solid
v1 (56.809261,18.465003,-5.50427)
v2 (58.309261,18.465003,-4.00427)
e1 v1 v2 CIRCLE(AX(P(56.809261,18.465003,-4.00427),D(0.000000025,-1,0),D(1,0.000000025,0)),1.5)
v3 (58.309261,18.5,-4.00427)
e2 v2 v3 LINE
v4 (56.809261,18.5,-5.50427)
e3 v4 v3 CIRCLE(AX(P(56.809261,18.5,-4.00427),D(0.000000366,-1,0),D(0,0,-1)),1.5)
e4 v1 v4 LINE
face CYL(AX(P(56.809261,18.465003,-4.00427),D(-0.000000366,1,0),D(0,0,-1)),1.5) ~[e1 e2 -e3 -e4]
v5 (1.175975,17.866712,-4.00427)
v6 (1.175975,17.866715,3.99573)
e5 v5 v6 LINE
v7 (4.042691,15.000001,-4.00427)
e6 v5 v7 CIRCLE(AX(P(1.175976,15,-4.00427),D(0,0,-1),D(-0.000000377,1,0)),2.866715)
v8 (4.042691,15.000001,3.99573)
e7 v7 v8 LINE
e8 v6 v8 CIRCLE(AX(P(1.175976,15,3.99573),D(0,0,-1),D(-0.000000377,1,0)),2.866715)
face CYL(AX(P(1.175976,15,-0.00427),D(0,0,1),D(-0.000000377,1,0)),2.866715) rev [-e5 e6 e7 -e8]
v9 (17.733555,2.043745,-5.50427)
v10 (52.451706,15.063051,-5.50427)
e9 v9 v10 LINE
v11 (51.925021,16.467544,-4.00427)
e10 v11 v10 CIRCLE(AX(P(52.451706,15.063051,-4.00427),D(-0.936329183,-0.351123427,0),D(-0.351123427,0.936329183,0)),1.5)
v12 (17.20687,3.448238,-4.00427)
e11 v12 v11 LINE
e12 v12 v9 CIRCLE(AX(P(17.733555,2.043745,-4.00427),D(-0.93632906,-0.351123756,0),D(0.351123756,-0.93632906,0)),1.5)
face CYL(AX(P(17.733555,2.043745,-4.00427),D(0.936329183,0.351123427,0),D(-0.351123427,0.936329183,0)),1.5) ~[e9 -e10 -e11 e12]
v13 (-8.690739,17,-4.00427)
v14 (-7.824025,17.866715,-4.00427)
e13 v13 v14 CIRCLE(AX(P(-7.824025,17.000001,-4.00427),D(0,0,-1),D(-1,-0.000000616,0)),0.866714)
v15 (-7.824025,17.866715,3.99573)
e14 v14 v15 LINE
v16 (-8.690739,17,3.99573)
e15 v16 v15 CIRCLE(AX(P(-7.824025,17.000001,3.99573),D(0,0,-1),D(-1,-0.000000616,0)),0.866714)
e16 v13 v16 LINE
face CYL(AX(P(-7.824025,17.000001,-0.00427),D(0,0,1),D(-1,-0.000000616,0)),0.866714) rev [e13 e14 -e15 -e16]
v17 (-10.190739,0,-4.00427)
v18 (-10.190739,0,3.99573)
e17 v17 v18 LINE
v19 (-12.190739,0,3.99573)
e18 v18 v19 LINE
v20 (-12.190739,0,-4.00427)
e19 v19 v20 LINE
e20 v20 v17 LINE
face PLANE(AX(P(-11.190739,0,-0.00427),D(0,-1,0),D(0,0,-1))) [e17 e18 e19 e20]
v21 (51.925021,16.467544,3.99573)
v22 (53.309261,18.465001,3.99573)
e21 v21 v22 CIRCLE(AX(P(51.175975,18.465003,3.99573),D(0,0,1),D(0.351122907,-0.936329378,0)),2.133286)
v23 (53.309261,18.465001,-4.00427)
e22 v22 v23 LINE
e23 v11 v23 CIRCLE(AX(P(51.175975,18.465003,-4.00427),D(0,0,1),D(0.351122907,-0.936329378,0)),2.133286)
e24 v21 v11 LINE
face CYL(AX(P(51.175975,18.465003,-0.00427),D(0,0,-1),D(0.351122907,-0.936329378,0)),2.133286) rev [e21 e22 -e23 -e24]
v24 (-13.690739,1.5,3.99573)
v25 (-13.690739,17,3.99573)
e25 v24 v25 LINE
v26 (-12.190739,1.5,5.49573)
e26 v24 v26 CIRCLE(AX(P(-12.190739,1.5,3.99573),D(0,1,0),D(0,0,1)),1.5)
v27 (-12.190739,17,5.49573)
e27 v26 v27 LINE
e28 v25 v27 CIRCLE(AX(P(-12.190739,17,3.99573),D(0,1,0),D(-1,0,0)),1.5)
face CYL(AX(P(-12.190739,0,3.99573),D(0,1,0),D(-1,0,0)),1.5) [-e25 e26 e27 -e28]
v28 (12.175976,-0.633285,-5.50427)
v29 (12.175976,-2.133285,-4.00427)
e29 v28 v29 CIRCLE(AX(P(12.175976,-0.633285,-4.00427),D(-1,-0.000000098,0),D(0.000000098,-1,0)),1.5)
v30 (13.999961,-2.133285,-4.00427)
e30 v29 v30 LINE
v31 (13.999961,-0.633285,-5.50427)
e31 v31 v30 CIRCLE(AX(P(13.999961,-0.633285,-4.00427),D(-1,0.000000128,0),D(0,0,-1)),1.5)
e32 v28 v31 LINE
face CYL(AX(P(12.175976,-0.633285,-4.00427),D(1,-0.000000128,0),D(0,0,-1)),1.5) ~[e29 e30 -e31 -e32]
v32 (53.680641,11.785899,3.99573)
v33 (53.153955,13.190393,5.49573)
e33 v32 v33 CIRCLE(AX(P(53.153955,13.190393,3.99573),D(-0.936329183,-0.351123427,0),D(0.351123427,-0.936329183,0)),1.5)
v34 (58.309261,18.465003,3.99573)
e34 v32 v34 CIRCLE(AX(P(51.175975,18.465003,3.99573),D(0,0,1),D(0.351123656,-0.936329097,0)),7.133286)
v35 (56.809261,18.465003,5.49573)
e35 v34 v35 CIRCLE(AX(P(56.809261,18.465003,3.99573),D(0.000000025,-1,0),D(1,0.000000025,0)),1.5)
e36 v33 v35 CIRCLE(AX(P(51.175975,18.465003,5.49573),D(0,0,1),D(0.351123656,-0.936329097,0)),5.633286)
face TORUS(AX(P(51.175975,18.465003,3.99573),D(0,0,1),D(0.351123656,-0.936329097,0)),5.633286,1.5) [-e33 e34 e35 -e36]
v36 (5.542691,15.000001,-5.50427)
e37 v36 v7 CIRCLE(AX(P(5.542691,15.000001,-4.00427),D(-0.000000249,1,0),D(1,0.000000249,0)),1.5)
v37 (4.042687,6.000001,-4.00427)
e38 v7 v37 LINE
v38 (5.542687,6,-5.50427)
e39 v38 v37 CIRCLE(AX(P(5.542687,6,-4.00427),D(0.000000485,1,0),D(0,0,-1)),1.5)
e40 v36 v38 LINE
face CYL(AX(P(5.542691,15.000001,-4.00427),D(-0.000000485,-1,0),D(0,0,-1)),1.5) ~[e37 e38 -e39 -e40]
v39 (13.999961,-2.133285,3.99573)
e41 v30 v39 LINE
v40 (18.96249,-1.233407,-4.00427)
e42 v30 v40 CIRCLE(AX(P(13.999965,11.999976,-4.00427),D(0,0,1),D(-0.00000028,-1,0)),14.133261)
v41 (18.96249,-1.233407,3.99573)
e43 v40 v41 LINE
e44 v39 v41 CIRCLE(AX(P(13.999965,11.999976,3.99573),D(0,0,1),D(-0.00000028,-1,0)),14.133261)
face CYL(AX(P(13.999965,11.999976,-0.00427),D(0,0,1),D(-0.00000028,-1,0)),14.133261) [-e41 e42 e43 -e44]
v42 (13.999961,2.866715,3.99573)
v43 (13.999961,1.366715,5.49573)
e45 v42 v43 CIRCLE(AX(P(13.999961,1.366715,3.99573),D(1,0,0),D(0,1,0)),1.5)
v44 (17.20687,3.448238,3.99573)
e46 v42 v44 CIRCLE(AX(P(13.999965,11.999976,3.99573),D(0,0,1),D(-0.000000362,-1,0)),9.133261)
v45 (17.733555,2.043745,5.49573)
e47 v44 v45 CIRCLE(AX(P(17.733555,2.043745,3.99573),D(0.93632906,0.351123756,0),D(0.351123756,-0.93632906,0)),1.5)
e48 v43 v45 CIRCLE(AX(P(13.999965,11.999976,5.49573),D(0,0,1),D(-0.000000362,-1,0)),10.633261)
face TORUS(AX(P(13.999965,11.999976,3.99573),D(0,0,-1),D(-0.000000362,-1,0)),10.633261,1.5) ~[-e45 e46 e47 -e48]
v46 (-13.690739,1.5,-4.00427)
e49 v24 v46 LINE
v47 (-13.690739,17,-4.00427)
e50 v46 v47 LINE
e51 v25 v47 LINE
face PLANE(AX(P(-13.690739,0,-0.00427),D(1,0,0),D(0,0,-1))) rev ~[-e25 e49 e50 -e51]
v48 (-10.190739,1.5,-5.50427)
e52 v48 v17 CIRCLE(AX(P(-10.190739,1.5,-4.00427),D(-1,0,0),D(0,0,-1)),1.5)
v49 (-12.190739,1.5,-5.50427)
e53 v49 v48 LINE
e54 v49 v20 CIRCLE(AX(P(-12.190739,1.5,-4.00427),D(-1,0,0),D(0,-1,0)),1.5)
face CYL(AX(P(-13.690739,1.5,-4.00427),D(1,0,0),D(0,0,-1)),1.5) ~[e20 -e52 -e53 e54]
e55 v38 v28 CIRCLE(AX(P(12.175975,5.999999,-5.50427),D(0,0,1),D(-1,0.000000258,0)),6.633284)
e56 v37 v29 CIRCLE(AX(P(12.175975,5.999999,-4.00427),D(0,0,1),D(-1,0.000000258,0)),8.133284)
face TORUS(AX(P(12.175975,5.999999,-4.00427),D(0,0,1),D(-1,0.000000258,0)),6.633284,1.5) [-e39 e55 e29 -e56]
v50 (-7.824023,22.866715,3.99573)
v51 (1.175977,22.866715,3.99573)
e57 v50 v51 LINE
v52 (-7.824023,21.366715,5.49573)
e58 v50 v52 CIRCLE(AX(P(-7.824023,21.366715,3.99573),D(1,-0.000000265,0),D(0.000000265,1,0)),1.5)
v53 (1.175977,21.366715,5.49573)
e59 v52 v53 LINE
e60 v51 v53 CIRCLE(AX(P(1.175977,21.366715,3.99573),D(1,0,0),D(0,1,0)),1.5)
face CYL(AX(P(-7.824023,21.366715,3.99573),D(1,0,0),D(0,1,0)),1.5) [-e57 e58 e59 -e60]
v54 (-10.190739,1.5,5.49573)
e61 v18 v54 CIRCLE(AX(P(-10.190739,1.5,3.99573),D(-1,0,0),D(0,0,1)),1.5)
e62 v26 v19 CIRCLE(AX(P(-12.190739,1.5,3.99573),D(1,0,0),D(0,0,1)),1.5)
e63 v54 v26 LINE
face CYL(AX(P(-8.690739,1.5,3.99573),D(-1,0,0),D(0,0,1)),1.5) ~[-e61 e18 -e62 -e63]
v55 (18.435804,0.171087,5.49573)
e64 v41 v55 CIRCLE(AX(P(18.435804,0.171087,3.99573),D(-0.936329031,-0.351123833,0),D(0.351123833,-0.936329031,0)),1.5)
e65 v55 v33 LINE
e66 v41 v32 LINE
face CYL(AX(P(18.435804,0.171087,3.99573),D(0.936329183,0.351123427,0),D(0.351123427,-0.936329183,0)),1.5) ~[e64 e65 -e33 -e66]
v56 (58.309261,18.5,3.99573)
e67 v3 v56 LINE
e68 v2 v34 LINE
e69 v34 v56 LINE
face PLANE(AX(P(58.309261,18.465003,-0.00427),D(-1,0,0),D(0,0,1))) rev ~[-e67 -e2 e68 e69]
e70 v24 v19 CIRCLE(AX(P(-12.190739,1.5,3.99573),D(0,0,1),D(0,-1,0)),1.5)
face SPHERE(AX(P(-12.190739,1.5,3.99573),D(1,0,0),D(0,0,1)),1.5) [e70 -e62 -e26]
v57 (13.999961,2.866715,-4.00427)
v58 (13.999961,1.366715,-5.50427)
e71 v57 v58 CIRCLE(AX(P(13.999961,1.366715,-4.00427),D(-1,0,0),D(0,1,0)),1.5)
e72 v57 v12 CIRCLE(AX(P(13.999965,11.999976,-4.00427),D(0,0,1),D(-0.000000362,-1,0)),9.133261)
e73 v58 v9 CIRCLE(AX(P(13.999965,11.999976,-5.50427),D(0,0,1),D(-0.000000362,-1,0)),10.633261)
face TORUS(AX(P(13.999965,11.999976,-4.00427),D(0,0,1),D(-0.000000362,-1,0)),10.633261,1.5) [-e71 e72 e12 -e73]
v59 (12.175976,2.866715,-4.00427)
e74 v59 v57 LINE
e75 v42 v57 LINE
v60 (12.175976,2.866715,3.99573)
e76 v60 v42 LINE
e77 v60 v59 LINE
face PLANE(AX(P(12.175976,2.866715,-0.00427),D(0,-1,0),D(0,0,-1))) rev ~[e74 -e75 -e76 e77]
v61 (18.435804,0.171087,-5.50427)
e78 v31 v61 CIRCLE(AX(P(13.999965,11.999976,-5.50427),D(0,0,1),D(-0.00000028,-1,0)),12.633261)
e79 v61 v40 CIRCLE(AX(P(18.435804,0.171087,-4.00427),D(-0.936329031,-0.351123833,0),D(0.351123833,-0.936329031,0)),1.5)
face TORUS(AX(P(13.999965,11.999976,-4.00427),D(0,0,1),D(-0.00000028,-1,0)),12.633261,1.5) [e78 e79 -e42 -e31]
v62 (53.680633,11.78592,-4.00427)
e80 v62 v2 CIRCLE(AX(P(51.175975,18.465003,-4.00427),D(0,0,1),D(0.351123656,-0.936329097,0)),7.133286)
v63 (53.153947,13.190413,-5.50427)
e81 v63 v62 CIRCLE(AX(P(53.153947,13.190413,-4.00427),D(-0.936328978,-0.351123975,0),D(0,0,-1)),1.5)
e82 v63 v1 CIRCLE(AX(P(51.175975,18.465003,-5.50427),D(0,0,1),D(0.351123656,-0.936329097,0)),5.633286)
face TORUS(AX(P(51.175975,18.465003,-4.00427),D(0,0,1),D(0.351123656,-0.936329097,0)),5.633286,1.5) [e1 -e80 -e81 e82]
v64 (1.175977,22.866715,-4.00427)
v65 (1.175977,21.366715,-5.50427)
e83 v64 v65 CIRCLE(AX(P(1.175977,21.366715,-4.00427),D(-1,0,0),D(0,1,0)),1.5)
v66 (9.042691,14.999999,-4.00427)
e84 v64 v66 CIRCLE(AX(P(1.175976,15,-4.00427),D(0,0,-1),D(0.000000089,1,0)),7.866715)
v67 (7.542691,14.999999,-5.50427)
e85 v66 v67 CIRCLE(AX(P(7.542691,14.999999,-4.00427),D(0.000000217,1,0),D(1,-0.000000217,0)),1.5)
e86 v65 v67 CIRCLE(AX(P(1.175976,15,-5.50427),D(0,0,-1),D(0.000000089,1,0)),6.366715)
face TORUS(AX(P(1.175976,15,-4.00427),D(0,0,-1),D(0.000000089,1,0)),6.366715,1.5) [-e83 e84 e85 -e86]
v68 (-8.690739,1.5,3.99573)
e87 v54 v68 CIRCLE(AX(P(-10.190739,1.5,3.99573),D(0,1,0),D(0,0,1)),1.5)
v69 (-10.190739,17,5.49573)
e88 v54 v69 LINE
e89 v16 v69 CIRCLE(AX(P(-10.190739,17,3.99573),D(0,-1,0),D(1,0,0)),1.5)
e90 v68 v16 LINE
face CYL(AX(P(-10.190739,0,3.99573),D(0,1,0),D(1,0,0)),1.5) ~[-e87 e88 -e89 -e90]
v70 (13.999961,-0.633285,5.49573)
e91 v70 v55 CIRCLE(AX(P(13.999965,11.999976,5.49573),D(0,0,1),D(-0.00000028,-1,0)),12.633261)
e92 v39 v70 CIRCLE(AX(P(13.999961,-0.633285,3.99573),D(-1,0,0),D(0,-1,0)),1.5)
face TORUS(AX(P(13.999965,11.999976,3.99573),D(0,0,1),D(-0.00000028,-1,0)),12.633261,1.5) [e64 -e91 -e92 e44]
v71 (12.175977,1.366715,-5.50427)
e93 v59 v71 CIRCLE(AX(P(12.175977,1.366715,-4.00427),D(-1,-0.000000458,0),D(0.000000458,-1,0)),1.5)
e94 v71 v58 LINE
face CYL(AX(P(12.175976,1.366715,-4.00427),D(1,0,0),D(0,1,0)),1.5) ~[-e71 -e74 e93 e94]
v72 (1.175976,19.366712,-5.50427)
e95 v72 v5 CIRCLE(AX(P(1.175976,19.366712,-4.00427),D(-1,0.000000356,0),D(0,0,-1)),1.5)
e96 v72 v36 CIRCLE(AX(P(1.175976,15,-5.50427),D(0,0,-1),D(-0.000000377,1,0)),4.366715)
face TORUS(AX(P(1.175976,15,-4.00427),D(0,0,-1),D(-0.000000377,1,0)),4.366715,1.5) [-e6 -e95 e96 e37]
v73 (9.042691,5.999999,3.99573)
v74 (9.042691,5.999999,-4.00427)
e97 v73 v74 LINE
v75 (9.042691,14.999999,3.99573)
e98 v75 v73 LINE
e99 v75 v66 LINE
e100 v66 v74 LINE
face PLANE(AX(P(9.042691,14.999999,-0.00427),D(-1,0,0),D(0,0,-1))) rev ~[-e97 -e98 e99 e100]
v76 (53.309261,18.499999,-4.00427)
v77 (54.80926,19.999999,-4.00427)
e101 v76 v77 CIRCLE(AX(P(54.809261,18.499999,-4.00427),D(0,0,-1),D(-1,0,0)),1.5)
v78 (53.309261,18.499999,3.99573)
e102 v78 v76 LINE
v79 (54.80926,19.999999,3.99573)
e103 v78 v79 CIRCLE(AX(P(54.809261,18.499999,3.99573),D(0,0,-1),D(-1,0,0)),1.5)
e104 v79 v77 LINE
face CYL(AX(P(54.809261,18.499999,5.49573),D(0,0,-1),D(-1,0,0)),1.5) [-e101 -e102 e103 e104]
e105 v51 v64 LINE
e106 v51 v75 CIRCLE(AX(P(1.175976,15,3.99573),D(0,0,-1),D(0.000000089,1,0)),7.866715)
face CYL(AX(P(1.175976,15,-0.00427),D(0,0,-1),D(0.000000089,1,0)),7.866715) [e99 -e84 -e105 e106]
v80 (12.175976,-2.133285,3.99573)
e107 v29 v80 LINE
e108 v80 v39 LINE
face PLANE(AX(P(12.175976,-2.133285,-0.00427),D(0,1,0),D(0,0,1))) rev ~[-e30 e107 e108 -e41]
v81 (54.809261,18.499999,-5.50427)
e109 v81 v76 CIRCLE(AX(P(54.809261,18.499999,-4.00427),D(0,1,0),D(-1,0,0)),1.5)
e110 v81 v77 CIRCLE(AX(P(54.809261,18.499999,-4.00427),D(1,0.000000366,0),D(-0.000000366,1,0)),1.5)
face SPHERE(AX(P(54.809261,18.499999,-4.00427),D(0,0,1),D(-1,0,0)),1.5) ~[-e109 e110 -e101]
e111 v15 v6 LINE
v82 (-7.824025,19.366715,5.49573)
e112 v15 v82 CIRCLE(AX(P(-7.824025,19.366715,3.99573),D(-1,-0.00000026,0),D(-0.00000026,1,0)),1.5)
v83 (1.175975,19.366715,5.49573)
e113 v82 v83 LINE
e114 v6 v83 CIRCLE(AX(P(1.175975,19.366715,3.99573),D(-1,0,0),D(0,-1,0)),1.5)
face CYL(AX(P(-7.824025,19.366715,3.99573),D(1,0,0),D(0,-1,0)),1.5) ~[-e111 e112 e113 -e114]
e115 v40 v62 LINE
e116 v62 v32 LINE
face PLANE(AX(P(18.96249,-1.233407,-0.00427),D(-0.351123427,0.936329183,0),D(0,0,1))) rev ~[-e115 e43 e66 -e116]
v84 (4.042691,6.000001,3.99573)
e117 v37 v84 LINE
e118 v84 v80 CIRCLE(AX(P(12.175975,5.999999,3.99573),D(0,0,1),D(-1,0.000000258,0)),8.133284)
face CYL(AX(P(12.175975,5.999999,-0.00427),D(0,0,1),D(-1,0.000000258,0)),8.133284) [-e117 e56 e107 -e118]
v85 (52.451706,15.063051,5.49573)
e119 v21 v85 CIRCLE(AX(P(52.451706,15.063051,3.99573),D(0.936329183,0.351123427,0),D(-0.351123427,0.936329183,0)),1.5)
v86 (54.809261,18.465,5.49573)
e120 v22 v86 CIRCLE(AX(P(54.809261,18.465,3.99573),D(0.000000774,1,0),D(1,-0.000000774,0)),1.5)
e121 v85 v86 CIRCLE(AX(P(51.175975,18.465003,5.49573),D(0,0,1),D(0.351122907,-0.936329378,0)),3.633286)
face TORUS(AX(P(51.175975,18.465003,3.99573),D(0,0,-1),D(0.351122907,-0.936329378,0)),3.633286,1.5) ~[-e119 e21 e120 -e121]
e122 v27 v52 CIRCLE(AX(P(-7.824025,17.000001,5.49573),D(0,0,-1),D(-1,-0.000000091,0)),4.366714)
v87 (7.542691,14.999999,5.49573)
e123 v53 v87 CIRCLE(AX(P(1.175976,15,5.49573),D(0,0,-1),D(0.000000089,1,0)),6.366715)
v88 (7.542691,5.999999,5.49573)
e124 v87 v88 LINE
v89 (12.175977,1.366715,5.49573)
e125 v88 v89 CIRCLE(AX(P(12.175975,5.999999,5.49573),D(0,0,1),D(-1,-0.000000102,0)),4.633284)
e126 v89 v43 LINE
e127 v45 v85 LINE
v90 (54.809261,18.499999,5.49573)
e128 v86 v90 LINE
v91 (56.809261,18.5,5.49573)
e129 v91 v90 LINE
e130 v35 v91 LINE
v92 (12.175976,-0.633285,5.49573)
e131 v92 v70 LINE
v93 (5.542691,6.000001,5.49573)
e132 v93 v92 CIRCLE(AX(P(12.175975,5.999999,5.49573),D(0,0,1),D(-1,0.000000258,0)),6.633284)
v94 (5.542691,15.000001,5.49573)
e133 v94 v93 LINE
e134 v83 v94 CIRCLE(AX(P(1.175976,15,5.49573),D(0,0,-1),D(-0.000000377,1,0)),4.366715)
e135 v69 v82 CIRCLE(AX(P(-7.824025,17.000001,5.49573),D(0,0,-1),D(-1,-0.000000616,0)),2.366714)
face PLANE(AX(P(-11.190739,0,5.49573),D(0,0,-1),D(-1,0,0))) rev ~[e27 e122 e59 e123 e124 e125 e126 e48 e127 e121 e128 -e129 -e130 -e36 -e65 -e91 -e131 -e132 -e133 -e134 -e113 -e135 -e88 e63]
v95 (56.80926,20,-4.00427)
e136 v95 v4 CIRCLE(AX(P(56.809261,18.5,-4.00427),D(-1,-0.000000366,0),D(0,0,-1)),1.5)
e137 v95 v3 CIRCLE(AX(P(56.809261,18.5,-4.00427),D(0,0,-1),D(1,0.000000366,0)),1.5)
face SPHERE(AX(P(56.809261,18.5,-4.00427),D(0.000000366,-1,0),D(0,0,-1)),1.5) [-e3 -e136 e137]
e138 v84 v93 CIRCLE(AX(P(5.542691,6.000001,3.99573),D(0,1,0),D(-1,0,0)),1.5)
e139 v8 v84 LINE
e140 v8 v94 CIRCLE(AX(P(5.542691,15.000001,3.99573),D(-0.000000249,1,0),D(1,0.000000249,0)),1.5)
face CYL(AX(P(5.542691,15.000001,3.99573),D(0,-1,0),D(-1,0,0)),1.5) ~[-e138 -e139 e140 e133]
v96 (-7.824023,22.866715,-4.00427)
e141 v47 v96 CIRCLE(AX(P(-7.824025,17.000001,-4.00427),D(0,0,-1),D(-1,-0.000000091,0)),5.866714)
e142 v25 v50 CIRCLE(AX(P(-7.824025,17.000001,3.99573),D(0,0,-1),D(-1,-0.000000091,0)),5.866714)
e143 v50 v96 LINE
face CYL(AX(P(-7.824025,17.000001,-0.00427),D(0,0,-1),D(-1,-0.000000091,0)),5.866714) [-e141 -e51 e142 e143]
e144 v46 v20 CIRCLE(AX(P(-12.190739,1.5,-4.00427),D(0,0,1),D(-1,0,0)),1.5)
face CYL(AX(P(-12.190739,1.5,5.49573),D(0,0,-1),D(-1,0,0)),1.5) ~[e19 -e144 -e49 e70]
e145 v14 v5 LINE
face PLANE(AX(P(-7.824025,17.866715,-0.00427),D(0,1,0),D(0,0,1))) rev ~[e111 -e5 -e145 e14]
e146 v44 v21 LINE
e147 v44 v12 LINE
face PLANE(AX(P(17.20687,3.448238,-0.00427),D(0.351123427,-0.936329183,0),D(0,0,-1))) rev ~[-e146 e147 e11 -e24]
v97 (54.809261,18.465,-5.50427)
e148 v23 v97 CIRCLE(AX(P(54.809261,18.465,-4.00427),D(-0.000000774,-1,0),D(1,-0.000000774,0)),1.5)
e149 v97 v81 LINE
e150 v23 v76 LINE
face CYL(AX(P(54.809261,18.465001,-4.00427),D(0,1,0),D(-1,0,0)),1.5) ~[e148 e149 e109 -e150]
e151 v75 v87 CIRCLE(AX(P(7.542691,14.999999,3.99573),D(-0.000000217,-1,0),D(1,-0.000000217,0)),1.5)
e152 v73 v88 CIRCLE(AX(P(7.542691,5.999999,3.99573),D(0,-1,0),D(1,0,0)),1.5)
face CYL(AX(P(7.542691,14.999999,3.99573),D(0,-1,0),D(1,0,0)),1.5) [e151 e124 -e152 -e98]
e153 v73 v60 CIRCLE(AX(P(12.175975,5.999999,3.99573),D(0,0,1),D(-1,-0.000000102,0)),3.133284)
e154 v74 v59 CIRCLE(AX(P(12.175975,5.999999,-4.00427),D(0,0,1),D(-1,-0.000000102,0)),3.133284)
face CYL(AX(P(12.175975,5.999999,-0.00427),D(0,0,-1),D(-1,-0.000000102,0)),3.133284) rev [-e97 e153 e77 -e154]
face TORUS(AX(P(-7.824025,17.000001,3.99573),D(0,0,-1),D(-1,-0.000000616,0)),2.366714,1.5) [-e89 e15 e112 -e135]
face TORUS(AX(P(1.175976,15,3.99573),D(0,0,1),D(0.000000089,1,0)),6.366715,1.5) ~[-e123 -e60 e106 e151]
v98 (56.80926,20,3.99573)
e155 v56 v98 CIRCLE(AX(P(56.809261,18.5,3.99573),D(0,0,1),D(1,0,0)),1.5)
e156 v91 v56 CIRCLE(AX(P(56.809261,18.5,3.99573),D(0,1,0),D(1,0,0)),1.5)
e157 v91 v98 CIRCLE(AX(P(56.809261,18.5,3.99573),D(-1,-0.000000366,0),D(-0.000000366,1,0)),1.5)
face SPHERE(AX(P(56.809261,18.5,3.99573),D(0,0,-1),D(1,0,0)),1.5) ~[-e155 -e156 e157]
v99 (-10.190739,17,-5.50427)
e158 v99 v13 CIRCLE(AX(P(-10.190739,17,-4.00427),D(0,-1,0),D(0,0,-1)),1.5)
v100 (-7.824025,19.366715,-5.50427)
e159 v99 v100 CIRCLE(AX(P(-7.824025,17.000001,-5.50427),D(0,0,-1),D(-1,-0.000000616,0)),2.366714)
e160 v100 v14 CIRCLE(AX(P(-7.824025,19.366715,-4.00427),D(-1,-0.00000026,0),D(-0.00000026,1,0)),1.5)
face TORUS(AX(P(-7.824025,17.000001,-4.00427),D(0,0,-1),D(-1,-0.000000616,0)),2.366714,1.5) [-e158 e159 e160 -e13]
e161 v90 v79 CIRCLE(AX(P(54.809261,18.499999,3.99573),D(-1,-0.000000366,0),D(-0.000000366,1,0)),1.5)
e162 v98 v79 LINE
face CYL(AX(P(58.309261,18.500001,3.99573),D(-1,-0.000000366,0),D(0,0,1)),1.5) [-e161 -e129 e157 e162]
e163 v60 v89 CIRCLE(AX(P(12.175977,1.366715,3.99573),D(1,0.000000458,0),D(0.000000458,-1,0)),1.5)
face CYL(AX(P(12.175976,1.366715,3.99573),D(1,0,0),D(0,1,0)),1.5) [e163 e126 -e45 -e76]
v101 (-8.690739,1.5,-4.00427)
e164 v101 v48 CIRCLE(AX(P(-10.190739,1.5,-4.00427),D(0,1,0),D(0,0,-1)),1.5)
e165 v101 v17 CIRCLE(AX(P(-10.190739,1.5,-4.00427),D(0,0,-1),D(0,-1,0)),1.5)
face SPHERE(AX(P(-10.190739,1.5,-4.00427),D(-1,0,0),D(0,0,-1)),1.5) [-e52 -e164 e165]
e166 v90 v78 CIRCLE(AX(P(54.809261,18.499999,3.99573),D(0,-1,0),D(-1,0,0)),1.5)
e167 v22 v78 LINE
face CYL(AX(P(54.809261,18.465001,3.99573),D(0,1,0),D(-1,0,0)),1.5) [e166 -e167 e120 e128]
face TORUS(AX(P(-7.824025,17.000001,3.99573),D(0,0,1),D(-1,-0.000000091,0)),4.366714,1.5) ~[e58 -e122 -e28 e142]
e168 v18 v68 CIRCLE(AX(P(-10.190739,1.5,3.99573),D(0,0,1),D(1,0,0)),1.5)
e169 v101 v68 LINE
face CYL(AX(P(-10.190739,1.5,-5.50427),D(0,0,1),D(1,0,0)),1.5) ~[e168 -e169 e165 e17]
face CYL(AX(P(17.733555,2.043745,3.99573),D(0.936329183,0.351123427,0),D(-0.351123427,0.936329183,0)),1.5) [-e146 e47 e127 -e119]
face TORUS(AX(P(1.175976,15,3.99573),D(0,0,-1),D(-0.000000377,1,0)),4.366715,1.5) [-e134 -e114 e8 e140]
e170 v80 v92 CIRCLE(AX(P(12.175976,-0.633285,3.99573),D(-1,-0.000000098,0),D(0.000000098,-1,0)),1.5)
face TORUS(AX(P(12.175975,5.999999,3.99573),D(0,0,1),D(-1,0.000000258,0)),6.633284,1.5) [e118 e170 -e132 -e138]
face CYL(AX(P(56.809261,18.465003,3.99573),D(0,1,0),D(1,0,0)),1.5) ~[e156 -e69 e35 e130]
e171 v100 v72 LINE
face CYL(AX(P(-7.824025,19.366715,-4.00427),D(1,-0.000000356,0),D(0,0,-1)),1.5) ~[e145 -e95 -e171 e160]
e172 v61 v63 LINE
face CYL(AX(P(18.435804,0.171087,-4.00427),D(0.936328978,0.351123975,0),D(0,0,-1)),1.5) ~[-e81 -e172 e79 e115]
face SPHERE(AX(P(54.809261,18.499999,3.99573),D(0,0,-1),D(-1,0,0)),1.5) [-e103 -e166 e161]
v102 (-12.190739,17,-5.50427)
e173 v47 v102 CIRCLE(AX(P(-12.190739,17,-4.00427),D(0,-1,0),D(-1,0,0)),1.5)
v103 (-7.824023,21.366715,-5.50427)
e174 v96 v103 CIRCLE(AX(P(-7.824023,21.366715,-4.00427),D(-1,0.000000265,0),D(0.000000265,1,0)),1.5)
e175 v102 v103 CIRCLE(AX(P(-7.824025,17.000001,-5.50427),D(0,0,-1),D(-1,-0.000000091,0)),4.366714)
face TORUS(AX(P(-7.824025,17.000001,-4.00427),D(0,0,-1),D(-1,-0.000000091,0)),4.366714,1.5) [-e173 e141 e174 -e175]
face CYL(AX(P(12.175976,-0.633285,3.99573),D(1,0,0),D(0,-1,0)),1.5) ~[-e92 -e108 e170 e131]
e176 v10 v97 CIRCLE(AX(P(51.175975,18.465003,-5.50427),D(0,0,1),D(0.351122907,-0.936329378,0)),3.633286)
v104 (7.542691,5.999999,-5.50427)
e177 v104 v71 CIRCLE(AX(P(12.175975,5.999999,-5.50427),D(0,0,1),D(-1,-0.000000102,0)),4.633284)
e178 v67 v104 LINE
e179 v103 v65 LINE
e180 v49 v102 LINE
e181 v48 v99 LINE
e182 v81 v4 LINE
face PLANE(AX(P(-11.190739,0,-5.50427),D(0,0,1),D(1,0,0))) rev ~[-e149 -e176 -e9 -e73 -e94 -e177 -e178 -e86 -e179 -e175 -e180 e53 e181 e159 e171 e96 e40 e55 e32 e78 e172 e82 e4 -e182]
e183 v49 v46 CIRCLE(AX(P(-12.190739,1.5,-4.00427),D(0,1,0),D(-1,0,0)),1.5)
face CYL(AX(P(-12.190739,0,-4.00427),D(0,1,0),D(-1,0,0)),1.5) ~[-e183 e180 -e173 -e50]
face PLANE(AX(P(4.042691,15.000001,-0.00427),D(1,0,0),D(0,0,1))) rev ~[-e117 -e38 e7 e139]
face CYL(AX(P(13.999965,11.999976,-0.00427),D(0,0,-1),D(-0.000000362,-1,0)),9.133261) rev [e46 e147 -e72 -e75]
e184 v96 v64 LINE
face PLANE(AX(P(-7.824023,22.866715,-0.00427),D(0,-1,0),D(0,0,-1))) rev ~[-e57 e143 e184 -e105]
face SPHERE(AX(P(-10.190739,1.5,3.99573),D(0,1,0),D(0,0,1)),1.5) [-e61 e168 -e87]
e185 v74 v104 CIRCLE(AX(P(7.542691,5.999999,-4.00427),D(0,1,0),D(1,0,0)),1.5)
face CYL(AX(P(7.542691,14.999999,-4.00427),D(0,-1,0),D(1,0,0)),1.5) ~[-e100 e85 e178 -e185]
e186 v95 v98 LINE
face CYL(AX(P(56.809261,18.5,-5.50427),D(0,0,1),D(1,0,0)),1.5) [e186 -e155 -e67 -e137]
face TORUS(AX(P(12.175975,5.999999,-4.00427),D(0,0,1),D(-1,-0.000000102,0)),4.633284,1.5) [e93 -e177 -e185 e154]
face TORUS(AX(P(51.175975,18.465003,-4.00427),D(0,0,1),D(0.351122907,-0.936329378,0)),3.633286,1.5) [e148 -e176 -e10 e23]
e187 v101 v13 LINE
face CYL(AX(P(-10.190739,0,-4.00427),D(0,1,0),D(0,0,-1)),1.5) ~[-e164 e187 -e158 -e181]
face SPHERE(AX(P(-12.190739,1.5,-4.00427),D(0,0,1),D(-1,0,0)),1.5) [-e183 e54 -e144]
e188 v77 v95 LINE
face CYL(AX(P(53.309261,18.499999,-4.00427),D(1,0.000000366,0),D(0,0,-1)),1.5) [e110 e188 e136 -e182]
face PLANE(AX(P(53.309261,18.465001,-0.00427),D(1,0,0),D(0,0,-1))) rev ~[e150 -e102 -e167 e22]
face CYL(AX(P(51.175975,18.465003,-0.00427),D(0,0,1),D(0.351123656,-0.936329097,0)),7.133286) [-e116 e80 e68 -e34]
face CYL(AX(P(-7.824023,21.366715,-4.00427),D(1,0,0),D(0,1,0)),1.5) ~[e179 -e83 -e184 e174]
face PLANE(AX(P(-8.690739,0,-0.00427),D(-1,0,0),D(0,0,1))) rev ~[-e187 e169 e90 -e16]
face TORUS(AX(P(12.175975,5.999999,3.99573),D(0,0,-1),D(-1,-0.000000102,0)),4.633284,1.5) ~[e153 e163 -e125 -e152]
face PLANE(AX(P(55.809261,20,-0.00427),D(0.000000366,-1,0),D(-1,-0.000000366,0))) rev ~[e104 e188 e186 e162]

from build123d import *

# Parameters (mm, degrees)
F1_W = 5
F1_H = 11
F3_R = 1.5


with BuildPart() as f2:
    # F2: sweep along a path in F0
    with BuildLine(Plane.XY) as f2_path:
        Line((-10.824024, 0), (-10.824024, 17))
        ThreePointArc((-10.824024, 17), (-9.945345, 19.12132), (-7.824024, 20))
        Line((-7.824024, 20), (1.175976, 20))
        ThreePointArc((1.175976, 20), (4.71151, 18.535534), (6.175976, 15))
        Line((6.175976, 15), (6.175976, 6))
        ThreePointArc((6.175976, 6), (7.933335, 1.757359), (12.175976, 0))
        Line((12.175976, 0), (13.999961, 0))
        ThreePointArc((13.999961, 0), (16.141058, 0.192557), (18.213442, 0.76405))
        Line((18.213442, 0.76405), (52.931593, 13.783356))
        ThreePointArc((52.931593, 13.783356), (55.285604, 15.617028), (56.175976, 18.465002))
        Line((56.175976, 18.465002), (56.175976, 20))
    # F1 (on Front) → F2 (sweep)
    with BuildSketch(Plane.XZ):
        with Locations((-11.190739, -0.00427)):
            Rectangle(F1_W, F1_H)
    sweep(path=f2_path.line)

    # F3
    f3_edges = [f2.edges().sort_by_distance(p)[0] for p in [
        (-8.690739, 8.5, 5.49573),
        (-11.190739, 0, 5.49573),
        (-13.690739, 8.5, 5.49573),
        (-11.972418, 21.148394, 5.49573),
        (-3.324024, 22.866714, 5.49573),
        (6.738583, 20.562607, 5.49573),
        (9.04269, 10.5, 5.49573),
        (9.960408, 3.784433, 5.49573),
        (13.087968, 2.866714, 5.49573),
        (15.629565, 3.013271, 5.49573),
        (34.565947, 9.957892, 5.49573),
        (52.929378, 17.249894, 5.49573),
        (53.309261, 19.232501, 5.49573),
        (55.809261, 20, 5.49573),
        (58.309261, 19.232501, 5.49573),
        (57.039006, 14.40192, 5.49573),
        (36.321564, 5.276246, 5.49573),
        (16.521689, -1.906496, 5.49573),
        (13.087968, -2.133286, 5.49573),
        (6.424874, 0.248899, 5.49573),
        (4.04269, 10.5, 5.49573),
        (3.203049, 17.027073, 5.49573),
        (-3.324024, 17.866714, 5.49573),
        (-8.436884, 17.61286, 5.49573),
        (-13.690739, 0, -0.00427),
        (-13.690739, 8.5, -5.50427),
        (-13.690739, 17, -0.00427),
        (-11.190739, 0, -5.50427),
        (-8.690739, 8.5, -5.50427),
        (-8.436884, 17.61286, -5.50427),
        (-3.324024, 17.866714, -5.50427),
        (3.203049, 17.027073, -5.50427),
        (4.04269, 10.5, -5.50427),
        (6.424874, 0.248899, -5.50427),
        (13.087968, -2.133286, -5.50427),
        (16.521689, -1.906496, -5.50427),
        (36.321564, 5.276246, -5.50427),
        (57.039006, 14.40192, -5.50427),
        (58.309261, 19.232501, -5.50427),
        (55.809261, 20, -5.50427),
        (53.309261, 19.232501, -5.50427),
        (52.929378, 17.249894, -5.50427),
        (34.565947, 9.957892, -5.50427),
        (15.629565, 3.013271, -5.50427),
        (13.087968, 2.866714, -5.50427),
        (9.960408, 3.784433, -5.50427),
        (9.04269, 10.5, -5.50427),
        (6.738583, 20.562607, -5.50427),
        (-3.324024, 22.866714, -5.50427),
        (-11.972418, 21.148394, -5.50427),
        (-8.690739, 0, -0.00427),
        (-8.690739, 17, -0.00427),
        (-7.824024, 22.866714, -0.00427),
        (-7.824024, 17.866714, -0.00427),
        (1.175976, 22.866714, -0.00427),
        (1.175976, 17.866714, -0.00427),
        (9.04269, 15, -0.00427),
        (4.04269, 15, -0.00427),
        (9.04269, 6, -0.00427),
        (4.04269, 6, -0.00427),
        (12.175976, 2.866714, -0.00427),
        (12.175976, -2.133286, -0.00427),
        (13.999961, 2.866714, -0.00427),
        (13.999961, -2.133286, -0.00427),
        (17.206871, 3.448238, -0.00427),
        (18.962489, -1.233408, -0.00427),
        (51.925022, 16.467545, -0.00427),
        (53.680639, 11.785899, -0.00427),
        (53.309261, 18.465002, -0.00427),
        (58.309261, 18.465002, -0.00427),
        (53.309261, 20, -0.00427),
        (58.309261, 20, -0.00427),
    ]]
    fillet(f3_edges, radius=F3_R)


solid = f2.part
